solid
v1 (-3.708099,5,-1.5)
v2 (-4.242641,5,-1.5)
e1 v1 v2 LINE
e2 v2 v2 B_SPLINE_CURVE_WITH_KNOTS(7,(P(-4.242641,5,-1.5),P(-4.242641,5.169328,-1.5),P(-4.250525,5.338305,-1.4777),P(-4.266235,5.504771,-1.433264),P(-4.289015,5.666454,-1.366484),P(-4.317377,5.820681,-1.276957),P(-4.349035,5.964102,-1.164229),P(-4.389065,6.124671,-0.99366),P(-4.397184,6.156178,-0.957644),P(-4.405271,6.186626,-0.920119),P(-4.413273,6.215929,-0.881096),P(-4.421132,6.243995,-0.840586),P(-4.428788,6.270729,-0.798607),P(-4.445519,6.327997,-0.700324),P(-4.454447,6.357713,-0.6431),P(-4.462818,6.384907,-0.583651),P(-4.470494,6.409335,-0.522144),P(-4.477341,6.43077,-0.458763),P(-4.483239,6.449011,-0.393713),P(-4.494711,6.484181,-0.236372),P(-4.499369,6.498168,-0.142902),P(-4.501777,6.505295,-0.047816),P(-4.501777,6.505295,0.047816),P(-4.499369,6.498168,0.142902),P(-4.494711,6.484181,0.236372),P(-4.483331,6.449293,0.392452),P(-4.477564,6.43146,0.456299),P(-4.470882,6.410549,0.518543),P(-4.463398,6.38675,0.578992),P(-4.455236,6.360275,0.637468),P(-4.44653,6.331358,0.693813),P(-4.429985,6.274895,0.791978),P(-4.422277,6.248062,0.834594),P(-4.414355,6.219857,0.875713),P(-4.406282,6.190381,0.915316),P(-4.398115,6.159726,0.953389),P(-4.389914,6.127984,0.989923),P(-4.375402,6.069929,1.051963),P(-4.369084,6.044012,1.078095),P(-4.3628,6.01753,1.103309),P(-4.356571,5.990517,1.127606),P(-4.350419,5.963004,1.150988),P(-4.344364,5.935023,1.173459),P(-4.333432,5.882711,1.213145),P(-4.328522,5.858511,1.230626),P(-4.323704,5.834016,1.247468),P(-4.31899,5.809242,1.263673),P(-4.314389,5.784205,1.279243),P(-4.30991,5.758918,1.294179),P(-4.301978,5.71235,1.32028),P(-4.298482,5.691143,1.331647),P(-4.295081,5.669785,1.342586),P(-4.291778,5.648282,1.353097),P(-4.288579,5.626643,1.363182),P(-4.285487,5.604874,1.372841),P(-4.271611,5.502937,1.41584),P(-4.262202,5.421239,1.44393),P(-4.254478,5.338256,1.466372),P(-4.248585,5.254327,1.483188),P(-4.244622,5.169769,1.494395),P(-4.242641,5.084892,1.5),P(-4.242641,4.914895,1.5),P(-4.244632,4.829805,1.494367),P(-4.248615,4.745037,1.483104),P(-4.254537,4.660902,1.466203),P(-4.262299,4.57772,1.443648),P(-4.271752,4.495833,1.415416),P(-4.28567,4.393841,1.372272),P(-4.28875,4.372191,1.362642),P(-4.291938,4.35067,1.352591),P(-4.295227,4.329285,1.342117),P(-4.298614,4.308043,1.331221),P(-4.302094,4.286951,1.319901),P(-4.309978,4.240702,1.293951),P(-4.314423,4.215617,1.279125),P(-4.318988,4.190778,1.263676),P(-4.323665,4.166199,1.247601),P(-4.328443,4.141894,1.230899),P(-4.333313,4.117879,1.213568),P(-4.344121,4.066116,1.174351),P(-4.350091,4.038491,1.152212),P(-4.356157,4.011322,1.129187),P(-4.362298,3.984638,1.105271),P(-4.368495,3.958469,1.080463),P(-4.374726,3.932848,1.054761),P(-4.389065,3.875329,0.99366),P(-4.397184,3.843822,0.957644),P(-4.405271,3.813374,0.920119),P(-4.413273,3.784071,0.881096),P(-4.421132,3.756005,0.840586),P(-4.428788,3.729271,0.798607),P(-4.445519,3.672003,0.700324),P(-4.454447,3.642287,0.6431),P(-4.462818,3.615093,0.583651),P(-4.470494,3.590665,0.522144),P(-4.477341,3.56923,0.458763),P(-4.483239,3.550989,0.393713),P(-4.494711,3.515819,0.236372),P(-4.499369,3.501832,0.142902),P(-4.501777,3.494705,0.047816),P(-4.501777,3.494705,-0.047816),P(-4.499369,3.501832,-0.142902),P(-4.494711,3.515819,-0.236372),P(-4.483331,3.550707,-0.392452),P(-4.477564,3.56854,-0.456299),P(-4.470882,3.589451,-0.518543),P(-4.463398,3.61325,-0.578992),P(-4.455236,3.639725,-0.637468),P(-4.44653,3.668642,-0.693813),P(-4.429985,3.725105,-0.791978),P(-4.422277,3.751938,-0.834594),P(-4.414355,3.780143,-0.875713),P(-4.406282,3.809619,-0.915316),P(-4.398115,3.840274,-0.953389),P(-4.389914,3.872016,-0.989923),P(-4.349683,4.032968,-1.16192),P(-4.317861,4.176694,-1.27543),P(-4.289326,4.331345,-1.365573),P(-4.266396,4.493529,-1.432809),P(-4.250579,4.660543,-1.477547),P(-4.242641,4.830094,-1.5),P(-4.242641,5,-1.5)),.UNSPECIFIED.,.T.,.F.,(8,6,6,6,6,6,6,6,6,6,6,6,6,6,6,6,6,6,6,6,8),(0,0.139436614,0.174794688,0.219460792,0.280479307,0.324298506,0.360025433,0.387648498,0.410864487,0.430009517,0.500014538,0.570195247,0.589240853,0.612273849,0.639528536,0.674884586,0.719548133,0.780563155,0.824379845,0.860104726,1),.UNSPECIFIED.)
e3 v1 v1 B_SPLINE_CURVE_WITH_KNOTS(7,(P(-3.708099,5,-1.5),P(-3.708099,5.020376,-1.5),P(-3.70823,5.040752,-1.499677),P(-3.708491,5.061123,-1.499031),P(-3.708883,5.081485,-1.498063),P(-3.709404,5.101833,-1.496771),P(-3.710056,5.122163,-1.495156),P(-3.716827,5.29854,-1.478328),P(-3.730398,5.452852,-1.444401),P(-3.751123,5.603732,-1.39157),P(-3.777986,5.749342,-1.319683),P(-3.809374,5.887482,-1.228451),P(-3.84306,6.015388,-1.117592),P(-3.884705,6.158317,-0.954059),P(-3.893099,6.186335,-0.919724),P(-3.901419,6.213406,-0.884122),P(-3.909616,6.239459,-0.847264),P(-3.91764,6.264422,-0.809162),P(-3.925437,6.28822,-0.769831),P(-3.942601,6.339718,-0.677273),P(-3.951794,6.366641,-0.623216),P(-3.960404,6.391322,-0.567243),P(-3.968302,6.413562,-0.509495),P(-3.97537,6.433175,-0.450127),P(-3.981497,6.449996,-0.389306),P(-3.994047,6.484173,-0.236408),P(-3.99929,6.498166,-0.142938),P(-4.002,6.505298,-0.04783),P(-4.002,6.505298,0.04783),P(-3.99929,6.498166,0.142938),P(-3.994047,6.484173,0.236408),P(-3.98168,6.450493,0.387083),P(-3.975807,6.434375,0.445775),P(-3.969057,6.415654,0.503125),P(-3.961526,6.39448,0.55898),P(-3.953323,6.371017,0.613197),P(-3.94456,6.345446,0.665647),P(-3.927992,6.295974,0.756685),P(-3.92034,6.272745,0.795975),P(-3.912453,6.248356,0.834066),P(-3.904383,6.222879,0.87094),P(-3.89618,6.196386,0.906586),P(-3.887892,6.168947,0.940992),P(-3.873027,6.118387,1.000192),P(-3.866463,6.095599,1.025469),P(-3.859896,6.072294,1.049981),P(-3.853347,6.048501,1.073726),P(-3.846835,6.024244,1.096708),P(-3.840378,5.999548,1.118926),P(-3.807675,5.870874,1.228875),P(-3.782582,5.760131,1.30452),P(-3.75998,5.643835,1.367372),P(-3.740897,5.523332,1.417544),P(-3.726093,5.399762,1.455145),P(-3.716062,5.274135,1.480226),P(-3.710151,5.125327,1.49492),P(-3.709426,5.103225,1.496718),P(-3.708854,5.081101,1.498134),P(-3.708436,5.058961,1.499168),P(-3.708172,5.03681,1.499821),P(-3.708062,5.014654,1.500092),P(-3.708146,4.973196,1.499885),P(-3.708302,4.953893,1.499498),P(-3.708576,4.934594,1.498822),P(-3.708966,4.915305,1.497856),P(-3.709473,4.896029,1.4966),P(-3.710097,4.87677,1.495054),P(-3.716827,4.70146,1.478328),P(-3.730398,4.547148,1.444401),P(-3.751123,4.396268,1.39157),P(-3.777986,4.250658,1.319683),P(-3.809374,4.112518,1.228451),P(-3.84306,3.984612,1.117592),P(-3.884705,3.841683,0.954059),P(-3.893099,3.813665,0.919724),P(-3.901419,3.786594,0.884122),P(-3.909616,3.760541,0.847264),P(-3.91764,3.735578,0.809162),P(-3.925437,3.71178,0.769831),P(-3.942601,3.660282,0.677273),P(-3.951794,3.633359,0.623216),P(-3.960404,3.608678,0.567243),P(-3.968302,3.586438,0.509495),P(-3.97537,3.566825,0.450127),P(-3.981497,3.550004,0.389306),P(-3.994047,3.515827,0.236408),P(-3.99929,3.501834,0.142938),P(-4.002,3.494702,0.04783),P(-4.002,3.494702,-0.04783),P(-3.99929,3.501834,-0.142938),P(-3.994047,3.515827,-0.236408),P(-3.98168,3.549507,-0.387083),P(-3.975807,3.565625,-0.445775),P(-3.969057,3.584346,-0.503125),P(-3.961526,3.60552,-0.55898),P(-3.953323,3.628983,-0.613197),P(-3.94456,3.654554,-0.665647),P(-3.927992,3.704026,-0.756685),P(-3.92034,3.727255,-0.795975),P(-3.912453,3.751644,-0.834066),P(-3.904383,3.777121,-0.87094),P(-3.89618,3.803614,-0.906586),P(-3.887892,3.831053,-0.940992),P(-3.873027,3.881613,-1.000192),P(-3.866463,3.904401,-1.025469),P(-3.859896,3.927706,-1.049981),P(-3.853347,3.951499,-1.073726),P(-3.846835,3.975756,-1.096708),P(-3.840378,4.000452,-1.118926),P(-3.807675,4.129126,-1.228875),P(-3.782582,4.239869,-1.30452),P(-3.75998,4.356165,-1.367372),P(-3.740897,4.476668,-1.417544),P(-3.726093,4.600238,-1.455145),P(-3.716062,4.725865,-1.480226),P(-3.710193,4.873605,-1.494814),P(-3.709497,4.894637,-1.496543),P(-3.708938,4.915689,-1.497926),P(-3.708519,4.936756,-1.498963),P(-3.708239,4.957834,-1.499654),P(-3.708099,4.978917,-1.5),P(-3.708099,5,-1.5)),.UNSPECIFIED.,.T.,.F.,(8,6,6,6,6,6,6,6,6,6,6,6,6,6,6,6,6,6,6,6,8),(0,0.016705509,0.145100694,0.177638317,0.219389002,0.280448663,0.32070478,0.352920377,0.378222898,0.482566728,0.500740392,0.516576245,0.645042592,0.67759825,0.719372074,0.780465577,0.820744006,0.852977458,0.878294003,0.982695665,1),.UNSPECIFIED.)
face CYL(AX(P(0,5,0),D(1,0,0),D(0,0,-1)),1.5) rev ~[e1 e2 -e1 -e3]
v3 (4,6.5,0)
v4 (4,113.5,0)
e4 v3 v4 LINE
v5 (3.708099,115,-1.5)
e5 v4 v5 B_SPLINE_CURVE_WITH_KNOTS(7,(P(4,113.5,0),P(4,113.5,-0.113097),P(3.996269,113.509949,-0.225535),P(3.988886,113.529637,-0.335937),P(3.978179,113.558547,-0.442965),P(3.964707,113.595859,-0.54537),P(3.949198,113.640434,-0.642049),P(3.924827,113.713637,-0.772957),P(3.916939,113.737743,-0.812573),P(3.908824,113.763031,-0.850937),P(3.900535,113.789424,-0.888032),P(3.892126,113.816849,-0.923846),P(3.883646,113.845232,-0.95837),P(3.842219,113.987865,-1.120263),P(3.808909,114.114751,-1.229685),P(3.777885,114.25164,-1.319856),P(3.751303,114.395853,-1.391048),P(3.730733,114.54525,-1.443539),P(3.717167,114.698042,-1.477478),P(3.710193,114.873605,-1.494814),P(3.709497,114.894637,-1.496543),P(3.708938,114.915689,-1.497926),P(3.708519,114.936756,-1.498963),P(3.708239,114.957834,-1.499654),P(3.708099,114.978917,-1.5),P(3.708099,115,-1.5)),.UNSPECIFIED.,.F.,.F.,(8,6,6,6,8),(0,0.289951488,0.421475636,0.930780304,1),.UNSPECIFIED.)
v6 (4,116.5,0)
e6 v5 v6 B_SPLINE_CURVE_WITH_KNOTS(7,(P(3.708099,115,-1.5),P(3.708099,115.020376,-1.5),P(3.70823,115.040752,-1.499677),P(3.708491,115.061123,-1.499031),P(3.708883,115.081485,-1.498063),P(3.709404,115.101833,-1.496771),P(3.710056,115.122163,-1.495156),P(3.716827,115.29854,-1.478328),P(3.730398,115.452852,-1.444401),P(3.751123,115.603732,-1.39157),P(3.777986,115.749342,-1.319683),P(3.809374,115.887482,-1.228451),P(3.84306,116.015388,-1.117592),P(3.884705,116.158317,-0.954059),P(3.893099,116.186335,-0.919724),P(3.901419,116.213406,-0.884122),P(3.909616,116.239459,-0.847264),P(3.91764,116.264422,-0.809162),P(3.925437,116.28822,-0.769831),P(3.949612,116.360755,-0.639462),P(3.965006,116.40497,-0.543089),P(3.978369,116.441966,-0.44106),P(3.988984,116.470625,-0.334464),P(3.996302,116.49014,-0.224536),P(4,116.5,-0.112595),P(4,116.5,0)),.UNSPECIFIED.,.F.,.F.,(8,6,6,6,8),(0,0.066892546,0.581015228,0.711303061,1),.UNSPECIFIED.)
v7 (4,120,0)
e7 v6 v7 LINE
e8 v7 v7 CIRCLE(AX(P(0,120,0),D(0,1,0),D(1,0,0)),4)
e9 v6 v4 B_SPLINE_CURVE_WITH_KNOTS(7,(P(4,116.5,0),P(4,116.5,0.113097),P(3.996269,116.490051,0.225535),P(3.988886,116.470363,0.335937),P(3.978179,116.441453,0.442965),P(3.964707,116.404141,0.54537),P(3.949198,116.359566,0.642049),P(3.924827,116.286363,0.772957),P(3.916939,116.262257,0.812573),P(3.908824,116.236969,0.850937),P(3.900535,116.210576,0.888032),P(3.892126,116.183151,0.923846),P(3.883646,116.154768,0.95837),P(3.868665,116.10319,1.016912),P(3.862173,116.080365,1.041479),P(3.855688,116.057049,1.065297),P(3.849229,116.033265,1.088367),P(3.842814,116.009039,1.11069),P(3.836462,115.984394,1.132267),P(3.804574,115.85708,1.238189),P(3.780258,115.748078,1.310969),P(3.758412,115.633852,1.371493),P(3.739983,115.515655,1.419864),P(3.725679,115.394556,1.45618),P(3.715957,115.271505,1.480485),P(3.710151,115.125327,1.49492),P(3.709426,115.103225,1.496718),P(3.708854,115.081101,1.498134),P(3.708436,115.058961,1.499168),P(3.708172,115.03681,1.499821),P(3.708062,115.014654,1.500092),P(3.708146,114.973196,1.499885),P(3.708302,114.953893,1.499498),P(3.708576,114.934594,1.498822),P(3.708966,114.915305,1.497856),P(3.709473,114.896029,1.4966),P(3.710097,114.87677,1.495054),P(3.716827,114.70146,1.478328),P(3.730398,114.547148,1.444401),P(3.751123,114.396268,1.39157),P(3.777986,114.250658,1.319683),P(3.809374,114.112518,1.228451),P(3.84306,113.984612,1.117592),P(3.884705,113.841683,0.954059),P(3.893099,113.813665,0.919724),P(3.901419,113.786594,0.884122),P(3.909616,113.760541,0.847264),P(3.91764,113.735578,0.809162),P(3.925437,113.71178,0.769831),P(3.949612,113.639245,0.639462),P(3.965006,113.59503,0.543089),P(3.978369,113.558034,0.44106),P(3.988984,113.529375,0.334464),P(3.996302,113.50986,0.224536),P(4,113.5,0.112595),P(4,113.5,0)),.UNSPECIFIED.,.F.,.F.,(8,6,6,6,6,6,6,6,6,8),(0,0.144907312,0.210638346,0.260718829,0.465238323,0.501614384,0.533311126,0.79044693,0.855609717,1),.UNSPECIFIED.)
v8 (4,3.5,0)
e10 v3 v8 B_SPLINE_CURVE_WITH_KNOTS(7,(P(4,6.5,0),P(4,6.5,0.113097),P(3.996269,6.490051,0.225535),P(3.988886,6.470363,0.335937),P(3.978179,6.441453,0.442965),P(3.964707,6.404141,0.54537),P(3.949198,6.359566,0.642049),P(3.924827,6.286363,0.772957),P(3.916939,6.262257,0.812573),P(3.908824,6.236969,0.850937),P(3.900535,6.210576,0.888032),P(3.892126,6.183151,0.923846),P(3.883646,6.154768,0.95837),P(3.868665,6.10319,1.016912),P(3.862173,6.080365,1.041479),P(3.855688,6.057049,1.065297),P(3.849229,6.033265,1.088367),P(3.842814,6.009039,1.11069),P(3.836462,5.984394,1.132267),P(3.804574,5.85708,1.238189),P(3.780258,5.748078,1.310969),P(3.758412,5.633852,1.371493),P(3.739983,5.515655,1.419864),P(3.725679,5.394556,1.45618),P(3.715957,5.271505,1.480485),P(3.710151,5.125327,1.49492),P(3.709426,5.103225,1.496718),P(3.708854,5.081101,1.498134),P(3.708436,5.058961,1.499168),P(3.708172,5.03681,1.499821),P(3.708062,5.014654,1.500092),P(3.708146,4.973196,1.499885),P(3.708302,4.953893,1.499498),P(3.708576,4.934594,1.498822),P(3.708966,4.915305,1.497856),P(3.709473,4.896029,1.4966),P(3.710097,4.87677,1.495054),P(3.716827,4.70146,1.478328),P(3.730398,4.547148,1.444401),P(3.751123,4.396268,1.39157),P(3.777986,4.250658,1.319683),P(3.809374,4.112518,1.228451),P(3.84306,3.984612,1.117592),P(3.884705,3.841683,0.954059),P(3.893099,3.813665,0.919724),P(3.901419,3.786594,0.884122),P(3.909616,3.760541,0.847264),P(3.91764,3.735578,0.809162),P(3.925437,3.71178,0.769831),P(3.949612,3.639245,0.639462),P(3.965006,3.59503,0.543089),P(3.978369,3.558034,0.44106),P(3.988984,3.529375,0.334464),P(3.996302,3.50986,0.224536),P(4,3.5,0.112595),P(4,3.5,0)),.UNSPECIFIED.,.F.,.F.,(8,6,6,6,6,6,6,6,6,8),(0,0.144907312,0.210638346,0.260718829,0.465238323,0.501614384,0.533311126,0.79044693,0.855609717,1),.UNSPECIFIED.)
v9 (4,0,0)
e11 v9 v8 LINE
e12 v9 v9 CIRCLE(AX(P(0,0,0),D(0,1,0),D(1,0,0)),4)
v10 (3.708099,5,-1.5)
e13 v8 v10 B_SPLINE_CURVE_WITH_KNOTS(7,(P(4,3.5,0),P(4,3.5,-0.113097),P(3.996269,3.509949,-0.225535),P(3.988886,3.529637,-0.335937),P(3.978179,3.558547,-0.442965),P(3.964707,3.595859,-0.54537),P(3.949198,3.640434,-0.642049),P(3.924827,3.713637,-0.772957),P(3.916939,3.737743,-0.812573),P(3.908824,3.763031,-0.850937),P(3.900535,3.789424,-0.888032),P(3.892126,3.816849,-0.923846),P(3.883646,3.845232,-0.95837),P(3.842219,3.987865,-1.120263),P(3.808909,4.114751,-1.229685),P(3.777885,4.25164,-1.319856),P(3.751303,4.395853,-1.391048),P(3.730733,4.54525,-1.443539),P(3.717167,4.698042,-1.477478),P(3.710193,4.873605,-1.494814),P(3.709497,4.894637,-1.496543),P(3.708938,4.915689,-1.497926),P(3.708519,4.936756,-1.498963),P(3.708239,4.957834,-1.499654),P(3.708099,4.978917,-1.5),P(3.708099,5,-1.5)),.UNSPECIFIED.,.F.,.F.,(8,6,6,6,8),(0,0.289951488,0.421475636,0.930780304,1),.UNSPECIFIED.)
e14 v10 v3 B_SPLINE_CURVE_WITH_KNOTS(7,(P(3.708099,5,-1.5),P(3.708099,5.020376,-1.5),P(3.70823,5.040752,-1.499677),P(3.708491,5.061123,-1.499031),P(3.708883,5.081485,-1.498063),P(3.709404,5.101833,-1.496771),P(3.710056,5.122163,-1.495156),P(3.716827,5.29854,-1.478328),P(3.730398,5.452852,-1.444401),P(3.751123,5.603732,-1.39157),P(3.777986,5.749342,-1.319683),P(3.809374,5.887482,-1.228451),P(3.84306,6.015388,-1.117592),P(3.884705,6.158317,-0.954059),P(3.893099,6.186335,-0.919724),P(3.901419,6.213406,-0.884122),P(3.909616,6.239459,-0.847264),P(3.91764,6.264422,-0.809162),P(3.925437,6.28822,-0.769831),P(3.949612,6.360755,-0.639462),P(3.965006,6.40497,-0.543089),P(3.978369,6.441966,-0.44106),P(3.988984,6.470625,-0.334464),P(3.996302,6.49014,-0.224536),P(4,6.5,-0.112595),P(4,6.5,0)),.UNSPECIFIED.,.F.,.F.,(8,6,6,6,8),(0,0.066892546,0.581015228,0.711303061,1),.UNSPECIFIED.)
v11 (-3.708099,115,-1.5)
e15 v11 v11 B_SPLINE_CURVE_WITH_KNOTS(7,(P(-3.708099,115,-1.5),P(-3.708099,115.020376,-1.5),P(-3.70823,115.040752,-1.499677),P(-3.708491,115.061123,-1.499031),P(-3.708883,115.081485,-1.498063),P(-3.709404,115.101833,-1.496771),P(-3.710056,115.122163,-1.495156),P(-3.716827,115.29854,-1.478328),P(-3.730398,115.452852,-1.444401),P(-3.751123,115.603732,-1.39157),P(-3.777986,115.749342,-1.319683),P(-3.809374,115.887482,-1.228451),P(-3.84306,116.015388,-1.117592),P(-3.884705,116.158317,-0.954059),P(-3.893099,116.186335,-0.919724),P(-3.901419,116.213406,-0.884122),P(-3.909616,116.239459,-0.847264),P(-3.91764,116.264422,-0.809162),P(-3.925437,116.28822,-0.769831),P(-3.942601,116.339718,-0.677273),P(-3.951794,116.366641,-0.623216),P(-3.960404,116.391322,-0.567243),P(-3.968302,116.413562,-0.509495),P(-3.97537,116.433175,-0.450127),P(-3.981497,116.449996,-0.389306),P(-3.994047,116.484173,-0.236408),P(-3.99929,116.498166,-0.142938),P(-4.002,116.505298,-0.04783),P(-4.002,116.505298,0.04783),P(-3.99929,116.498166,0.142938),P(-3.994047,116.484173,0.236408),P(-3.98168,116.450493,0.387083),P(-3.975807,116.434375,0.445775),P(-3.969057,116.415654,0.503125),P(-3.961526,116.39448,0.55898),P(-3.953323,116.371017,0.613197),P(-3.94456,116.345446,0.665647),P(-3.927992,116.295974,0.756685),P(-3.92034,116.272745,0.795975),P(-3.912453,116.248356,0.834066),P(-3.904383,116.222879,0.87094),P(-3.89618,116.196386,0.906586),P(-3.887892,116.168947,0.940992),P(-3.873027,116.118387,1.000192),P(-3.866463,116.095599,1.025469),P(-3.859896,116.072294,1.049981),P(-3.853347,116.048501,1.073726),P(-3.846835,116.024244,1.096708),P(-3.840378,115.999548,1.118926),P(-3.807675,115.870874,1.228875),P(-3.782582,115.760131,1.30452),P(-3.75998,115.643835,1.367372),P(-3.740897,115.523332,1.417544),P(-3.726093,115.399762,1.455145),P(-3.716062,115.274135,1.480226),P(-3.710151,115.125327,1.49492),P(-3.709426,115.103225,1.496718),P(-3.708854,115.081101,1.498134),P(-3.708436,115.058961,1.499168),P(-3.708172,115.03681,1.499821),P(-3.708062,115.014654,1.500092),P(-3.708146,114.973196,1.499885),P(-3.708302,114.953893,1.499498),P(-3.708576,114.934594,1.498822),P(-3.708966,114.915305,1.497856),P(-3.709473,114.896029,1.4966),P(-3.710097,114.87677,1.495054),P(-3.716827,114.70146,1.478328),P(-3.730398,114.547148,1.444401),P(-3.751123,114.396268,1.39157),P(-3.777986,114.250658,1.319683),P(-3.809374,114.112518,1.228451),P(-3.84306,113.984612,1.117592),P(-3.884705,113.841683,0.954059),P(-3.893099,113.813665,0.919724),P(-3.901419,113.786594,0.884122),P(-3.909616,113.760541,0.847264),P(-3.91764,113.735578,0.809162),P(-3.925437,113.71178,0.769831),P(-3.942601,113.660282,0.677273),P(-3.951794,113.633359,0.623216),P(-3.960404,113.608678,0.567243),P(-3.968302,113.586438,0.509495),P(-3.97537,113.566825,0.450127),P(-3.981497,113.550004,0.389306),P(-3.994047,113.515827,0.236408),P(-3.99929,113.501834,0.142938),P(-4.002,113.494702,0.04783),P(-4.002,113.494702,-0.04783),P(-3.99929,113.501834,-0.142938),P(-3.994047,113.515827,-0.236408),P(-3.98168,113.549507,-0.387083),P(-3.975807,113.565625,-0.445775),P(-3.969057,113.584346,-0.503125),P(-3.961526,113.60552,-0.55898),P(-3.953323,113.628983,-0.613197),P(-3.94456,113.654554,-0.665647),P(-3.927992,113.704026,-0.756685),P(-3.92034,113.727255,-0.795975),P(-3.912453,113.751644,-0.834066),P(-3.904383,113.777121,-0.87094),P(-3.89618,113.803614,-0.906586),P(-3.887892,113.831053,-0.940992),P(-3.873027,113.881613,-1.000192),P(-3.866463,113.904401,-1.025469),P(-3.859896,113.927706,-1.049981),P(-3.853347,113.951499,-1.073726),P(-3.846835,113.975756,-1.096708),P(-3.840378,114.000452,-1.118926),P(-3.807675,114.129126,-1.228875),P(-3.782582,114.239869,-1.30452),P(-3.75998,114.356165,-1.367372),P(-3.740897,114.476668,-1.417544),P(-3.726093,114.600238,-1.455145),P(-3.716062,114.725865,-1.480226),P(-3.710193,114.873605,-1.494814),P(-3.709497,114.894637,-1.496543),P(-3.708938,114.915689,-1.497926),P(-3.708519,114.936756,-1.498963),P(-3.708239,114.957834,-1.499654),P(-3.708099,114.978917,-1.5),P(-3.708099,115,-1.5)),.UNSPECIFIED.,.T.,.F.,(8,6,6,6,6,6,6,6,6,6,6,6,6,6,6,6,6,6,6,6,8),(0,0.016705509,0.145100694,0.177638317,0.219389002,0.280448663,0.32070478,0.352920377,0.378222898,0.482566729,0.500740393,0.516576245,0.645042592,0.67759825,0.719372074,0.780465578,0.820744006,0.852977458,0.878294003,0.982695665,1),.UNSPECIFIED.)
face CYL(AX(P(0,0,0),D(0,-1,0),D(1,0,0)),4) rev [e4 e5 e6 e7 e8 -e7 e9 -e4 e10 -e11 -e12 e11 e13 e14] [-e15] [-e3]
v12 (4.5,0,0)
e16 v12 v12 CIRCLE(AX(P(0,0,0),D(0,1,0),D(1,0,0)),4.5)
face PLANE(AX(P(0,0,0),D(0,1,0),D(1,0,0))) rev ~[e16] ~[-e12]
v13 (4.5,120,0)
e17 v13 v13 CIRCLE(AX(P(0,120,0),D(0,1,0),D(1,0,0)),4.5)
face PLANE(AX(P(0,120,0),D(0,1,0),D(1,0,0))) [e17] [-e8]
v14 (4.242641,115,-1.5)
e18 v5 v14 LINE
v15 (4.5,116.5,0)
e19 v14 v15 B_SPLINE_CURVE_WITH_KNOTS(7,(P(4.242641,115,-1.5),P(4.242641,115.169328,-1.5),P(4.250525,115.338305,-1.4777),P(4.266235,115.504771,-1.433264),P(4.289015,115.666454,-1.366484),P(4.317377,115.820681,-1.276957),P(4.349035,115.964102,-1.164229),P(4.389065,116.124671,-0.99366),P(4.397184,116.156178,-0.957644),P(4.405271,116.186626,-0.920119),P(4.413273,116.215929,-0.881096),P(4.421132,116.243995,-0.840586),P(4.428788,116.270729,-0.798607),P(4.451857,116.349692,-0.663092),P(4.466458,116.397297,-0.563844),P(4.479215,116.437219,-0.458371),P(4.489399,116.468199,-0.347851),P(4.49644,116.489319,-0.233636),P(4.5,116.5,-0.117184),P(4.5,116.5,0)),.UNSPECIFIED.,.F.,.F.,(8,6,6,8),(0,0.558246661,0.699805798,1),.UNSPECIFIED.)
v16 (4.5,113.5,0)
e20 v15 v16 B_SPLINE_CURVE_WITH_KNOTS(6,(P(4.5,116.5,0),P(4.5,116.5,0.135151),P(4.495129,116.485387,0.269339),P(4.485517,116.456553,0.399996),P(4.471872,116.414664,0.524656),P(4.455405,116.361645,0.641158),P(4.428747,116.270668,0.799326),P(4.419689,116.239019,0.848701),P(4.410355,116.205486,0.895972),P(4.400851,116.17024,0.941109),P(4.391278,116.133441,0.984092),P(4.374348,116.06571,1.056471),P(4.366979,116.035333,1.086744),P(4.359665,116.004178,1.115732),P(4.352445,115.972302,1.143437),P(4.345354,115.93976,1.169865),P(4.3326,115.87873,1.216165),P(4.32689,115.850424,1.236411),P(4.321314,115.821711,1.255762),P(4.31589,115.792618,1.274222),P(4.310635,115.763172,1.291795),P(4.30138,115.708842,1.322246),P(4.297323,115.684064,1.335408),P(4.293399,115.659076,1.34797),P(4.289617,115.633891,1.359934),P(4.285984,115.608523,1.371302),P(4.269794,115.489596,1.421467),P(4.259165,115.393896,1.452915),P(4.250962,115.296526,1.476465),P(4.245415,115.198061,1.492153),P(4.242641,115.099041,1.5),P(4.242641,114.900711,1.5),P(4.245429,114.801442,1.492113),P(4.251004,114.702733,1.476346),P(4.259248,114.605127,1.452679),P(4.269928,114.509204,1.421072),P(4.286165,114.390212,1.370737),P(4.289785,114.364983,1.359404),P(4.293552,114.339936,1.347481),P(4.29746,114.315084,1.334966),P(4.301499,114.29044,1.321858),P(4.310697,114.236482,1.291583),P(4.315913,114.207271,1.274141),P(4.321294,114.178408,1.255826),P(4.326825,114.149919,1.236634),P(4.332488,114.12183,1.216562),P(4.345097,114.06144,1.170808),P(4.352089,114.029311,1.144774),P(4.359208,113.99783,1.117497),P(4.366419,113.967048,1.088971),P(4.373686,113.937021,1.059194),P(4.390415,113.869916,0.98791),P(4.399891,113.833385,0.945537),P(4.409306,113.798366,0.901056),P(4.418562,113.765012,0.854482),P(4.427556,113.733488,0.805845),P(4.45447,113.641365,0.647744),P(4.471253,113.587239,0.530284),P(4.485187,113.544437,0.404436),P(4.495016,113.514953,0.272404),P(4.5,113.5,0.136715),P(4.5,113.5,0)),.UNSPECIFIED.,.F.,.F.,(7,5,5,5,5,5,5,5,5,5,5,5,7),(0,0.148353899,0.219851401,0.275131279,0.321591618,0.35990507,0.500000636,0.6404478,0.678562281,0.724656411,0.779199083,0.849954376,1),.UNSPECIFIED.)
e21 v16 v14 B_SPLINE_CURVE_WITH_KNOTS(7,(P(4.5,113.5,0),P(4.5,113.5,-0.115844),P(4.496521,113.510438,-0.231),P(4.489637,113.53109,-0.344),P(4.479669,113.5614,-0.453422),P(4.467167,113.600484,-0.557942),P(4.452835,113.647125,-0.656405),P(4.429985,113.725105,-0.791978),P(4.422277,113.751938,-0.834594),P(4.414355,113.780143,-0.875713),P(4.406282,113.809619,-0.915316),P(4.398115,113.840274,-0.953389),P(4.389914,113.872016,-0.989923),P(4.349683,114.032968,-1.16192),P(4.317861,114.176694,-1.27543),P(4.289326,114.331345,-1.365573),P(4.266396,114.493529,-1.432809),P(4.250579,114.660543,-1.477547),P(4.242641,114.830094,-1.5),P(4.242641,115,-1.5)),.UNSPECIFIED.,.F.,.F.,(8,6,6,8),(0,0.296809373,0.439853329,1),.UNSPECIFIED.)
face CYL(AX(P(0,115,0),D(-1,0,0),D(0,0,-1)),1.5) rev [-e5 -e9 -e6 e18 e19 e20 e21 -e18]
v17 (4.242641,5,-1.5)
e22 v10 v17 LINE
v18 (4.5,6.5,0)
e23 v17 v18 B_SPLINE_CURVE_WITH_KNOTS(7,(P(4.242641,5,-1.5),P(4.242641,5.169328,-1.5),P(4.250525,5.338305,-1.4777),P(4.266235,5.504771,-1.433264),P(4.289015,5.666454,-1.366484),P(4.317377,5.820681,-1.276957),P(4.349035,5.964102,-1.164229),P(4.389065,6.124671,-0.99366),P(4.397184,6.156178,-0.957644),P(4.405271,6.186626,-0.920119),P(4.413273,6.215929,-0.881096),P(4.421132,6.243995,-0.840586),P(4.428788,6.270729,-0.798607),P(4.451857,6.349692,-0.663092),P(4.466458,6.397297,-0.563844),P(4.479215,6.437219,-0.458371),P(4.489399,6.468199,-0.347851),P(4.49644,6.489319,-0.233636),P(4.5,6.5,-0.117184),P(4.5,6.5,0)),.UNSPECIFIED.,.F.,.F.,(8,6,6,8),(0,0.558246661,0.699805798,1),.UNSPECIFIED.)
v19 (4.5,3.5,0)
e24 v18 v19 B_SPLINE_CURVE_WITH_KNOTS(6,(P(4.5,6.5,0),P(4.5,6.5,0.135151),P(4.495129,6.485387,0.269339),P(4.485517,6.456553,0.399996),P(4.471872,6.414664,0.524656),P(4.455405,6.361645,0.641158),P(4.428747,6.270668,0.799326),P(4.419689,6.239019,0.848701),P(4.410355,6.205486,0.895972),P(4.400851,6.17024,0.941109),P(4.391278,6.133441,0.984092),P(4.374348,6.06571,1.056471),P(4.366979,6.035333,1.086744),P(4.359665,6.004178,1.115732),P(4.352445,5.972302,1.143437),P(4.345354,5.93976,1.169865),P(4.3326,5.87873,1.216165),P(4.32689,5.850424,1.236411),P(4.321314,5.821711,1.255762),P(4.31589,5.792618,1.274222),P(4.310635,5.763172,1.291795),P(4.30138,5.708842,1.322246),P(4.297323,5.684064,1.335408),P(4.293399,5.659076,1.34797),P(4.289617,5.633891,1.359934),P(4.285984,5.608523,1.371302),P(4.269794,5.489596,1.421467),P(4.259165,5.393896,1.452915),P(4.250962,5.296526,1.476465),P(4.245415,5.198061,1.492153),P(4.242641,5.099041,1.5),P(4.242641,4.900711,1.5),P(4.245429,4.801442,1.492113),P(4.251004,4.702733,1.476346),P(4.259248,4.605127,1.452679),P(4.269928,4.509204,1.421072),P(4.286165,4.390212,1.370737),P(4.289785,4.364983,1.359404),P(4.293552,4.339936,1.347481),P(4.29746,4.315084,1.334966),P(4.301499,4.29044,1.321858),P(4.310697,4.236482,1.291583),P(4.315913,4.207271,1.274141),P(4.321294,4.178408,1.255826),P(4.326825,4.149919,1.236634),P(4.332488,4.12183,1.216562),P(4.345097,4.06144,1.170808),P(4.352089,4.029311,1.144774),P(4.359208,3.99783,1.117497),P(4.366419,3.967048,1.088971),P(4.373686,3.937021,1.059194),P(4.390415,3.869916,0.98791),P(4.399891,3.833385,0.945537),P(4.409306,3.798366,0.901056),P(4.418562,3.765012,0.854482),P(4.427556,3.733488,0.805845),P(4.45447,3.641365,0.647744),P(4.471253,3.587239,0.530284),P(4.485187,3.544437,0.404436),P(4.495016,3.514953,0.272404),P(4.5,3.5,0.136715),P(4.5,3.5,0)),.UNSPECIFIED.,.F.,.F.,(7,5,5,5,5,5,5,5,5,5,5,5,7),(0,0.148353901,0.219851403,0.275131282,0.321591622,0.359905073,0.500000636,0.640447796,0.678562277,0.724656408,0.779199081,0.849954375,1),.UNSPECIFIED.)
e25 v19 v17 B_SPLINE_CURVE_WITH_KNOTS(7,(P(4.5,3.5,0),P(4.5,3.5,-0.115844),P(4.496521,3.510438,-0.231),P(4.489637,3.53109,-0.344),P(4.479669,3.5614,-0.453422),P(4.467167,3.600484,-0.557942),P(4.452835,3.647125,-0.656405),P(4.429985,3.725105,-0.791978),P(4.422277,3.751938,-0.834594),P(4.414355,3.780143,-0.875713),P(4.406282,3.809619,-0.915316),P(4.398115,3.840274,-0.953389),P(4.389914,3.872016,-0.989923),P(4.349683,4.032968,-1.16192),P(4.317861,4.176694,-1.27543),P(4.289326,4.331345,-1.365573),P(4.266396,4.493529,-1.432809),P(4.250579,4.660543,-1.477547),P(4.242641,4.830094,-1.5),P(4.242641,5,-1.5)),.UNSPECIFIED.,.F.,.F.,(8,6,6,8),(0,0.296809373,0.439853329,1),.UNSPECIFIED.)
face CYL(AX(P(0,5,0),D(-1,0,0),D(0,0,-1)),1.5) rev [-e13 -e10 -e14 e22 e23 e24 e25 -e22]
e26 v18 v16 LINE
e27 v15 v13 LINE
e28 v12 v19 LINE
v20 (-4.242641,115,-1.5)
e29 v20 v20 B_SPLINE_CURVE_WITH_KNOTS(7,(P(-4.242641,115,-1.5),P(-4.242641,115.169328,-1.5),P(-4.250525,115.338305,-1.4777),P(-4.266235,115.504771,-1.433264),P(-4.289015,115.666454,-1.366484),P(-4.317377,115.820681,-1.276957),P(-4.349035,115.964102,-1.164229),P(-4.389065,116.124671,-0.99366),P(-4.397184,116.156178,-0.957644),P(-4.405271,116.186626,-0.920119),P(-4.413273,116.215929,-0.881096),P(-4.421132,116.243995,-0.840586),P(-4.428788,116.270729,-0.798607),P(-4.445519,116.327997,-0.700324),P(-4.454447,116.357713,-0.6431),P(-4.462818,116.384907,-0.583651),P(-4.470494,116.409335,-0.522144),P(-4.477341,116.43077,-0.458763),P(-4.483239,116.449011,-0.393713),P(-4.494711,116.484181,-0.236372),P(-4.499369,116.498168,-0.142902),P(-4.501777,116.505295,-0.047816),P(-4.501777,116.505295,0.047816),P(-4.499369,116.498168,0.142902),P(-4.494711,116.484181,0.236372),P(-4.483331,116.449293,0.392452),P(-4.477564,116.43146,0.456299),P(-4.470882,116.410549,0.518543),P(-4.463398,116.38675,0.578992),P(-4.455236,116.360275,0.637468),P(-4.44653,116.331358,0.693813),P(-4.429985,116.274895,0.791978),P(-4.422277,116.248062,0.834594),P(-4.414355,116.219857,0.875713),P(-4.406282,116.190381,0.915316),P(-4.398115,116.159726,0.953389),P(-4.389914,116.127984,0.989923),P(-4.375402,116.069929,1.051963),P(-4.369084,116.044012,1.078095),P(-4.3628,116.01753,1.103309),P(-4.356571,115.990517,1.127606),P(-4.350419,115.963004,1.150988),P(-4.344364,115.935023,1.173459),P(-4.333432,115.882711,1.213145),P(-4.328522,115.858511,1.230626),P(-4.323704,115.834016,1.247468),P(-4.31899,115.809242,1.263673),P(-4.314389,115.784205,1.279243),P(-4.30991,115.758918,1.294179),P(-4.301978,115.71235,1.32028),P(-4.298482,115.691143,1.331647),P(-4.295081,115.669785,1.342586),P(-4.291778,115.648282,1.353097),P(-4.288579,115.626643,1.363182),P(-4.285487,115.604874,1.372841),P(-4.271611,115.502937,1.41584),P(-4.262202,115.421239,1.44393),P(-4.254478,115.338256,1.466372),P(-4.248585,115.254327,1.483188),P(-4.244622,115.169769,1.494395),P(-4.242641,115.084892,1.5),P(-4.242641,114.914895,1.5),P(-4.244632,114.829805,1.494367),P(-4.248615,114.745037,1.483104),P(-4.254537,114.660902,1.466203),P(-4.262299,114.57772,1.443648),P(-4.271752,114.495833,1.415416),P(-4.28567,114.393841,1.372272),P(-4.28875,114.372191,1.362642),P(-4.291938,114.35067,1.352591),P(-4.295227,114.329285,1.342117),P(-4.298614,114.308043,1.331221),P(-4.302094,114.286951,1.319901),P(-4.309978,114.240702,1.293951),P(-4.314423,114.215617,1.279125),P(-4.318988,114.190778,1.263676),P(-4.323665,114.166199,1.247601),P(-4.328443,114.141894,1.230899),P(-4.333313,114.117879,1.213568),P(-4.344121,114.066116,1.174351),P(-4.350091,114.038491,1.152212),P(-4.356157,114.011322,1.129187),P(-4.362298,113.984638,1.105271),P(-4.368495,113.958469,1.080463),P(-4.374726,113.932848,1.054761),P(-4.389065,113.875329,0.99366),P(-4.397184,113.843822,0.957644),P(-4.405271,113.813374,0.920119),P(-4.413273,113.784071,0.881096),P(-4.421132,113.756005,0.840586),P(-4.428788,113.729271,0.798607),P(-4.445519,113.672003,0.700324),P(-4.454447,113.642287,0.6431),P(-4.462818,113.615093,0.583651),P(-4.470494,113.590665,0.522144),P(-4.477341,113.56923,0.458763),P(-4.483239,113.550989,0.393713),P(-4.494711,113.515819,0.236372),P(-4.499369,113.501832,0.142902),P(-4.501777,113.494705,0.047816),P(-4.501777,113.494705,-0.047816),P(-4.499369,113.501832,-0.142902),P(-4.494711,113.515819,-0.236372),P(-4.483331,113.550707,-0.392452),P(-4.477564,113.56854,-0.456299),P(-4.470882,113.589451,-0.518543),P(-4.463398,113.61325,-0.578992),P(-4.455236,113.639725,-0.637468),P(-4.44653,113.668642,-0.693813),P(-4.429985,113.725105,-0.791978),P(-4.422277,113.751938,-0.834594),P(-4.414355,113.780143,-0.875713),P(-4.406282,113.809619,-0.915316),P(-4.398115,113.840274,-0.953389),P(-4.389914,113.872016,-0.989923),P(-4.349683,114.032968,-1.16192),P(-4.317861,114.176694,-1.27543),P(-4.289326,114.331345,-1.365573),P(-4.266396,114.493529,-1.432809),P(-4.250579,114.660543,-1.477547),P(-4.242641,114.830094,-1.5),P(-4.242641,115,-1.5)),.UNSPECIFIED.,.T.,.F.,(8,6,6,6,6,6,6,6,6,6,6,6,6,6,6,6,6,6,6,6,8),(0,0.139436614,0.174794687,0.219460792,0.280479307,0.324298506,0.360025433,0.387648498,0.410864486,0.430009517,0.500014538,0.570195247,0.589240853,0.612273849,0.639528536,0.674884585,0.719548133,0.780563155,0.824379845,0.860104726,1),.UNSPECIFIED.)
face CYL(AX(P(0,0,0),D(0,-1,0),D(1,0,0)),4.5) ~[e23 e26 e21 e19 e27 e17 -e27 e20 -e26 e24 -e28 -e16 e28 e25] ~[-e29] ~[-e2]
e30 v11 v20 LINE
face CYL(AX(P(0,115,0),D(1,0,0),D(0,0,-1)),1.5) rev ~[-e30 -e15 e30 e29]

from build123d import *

# Parameters (mm, degrees)
CROQUIS1_R                 = 4.5
CROQUIS1_R_2               = 4
SALIENTE_EXTRUIR1_DEPTH    = 120
CROQUIS2_R                 = 1.5
CORTAR_EXTRUIR1_DEPTH      = 5.5
CORTAR_EXTRUIR1_DEPTH_BACK = 5.5


with BuildPart() as part:
    # Croquis1 → Saliente-Extruir1 (new body)
    with BuildSketch(Plane(origin=(0, 0, 0), x_dir=(1, 0, 0), z_dir=(0, 1, 0))):
        Circle(CROQUIS1_R)
        Circle(CROQUIS1_R_2, mode=Mode.SUBTRACT)
    extrude(amount=SALIENTE_EXTRUIR1_DEPTH)

    # Croquis2 → Cortar-Extruir1 (cut, two sides)
    with BuildSketch(Plane(origin=(0, 0, 0), x_dir=(0, 0, -1), z_dir=(1, 0, 0))) as cortar_extruir1_sk:
        with Locations((0, 115)):
            Circle(CROQUIS2_R)
        with Locations((0, 5)):
            Circle(CROQUIS2_R)
    extrude(amount=CORTAR_EXTRUIR1_DEPTH, mode=Mode.SUBTRACT)
    extrude(cortar_extruir1_sk.sketch, amount=-CORTAR_EXTRUIR1_DEPTH_BACK, mode=Mode.SUBTRACT)


solid = part.part
